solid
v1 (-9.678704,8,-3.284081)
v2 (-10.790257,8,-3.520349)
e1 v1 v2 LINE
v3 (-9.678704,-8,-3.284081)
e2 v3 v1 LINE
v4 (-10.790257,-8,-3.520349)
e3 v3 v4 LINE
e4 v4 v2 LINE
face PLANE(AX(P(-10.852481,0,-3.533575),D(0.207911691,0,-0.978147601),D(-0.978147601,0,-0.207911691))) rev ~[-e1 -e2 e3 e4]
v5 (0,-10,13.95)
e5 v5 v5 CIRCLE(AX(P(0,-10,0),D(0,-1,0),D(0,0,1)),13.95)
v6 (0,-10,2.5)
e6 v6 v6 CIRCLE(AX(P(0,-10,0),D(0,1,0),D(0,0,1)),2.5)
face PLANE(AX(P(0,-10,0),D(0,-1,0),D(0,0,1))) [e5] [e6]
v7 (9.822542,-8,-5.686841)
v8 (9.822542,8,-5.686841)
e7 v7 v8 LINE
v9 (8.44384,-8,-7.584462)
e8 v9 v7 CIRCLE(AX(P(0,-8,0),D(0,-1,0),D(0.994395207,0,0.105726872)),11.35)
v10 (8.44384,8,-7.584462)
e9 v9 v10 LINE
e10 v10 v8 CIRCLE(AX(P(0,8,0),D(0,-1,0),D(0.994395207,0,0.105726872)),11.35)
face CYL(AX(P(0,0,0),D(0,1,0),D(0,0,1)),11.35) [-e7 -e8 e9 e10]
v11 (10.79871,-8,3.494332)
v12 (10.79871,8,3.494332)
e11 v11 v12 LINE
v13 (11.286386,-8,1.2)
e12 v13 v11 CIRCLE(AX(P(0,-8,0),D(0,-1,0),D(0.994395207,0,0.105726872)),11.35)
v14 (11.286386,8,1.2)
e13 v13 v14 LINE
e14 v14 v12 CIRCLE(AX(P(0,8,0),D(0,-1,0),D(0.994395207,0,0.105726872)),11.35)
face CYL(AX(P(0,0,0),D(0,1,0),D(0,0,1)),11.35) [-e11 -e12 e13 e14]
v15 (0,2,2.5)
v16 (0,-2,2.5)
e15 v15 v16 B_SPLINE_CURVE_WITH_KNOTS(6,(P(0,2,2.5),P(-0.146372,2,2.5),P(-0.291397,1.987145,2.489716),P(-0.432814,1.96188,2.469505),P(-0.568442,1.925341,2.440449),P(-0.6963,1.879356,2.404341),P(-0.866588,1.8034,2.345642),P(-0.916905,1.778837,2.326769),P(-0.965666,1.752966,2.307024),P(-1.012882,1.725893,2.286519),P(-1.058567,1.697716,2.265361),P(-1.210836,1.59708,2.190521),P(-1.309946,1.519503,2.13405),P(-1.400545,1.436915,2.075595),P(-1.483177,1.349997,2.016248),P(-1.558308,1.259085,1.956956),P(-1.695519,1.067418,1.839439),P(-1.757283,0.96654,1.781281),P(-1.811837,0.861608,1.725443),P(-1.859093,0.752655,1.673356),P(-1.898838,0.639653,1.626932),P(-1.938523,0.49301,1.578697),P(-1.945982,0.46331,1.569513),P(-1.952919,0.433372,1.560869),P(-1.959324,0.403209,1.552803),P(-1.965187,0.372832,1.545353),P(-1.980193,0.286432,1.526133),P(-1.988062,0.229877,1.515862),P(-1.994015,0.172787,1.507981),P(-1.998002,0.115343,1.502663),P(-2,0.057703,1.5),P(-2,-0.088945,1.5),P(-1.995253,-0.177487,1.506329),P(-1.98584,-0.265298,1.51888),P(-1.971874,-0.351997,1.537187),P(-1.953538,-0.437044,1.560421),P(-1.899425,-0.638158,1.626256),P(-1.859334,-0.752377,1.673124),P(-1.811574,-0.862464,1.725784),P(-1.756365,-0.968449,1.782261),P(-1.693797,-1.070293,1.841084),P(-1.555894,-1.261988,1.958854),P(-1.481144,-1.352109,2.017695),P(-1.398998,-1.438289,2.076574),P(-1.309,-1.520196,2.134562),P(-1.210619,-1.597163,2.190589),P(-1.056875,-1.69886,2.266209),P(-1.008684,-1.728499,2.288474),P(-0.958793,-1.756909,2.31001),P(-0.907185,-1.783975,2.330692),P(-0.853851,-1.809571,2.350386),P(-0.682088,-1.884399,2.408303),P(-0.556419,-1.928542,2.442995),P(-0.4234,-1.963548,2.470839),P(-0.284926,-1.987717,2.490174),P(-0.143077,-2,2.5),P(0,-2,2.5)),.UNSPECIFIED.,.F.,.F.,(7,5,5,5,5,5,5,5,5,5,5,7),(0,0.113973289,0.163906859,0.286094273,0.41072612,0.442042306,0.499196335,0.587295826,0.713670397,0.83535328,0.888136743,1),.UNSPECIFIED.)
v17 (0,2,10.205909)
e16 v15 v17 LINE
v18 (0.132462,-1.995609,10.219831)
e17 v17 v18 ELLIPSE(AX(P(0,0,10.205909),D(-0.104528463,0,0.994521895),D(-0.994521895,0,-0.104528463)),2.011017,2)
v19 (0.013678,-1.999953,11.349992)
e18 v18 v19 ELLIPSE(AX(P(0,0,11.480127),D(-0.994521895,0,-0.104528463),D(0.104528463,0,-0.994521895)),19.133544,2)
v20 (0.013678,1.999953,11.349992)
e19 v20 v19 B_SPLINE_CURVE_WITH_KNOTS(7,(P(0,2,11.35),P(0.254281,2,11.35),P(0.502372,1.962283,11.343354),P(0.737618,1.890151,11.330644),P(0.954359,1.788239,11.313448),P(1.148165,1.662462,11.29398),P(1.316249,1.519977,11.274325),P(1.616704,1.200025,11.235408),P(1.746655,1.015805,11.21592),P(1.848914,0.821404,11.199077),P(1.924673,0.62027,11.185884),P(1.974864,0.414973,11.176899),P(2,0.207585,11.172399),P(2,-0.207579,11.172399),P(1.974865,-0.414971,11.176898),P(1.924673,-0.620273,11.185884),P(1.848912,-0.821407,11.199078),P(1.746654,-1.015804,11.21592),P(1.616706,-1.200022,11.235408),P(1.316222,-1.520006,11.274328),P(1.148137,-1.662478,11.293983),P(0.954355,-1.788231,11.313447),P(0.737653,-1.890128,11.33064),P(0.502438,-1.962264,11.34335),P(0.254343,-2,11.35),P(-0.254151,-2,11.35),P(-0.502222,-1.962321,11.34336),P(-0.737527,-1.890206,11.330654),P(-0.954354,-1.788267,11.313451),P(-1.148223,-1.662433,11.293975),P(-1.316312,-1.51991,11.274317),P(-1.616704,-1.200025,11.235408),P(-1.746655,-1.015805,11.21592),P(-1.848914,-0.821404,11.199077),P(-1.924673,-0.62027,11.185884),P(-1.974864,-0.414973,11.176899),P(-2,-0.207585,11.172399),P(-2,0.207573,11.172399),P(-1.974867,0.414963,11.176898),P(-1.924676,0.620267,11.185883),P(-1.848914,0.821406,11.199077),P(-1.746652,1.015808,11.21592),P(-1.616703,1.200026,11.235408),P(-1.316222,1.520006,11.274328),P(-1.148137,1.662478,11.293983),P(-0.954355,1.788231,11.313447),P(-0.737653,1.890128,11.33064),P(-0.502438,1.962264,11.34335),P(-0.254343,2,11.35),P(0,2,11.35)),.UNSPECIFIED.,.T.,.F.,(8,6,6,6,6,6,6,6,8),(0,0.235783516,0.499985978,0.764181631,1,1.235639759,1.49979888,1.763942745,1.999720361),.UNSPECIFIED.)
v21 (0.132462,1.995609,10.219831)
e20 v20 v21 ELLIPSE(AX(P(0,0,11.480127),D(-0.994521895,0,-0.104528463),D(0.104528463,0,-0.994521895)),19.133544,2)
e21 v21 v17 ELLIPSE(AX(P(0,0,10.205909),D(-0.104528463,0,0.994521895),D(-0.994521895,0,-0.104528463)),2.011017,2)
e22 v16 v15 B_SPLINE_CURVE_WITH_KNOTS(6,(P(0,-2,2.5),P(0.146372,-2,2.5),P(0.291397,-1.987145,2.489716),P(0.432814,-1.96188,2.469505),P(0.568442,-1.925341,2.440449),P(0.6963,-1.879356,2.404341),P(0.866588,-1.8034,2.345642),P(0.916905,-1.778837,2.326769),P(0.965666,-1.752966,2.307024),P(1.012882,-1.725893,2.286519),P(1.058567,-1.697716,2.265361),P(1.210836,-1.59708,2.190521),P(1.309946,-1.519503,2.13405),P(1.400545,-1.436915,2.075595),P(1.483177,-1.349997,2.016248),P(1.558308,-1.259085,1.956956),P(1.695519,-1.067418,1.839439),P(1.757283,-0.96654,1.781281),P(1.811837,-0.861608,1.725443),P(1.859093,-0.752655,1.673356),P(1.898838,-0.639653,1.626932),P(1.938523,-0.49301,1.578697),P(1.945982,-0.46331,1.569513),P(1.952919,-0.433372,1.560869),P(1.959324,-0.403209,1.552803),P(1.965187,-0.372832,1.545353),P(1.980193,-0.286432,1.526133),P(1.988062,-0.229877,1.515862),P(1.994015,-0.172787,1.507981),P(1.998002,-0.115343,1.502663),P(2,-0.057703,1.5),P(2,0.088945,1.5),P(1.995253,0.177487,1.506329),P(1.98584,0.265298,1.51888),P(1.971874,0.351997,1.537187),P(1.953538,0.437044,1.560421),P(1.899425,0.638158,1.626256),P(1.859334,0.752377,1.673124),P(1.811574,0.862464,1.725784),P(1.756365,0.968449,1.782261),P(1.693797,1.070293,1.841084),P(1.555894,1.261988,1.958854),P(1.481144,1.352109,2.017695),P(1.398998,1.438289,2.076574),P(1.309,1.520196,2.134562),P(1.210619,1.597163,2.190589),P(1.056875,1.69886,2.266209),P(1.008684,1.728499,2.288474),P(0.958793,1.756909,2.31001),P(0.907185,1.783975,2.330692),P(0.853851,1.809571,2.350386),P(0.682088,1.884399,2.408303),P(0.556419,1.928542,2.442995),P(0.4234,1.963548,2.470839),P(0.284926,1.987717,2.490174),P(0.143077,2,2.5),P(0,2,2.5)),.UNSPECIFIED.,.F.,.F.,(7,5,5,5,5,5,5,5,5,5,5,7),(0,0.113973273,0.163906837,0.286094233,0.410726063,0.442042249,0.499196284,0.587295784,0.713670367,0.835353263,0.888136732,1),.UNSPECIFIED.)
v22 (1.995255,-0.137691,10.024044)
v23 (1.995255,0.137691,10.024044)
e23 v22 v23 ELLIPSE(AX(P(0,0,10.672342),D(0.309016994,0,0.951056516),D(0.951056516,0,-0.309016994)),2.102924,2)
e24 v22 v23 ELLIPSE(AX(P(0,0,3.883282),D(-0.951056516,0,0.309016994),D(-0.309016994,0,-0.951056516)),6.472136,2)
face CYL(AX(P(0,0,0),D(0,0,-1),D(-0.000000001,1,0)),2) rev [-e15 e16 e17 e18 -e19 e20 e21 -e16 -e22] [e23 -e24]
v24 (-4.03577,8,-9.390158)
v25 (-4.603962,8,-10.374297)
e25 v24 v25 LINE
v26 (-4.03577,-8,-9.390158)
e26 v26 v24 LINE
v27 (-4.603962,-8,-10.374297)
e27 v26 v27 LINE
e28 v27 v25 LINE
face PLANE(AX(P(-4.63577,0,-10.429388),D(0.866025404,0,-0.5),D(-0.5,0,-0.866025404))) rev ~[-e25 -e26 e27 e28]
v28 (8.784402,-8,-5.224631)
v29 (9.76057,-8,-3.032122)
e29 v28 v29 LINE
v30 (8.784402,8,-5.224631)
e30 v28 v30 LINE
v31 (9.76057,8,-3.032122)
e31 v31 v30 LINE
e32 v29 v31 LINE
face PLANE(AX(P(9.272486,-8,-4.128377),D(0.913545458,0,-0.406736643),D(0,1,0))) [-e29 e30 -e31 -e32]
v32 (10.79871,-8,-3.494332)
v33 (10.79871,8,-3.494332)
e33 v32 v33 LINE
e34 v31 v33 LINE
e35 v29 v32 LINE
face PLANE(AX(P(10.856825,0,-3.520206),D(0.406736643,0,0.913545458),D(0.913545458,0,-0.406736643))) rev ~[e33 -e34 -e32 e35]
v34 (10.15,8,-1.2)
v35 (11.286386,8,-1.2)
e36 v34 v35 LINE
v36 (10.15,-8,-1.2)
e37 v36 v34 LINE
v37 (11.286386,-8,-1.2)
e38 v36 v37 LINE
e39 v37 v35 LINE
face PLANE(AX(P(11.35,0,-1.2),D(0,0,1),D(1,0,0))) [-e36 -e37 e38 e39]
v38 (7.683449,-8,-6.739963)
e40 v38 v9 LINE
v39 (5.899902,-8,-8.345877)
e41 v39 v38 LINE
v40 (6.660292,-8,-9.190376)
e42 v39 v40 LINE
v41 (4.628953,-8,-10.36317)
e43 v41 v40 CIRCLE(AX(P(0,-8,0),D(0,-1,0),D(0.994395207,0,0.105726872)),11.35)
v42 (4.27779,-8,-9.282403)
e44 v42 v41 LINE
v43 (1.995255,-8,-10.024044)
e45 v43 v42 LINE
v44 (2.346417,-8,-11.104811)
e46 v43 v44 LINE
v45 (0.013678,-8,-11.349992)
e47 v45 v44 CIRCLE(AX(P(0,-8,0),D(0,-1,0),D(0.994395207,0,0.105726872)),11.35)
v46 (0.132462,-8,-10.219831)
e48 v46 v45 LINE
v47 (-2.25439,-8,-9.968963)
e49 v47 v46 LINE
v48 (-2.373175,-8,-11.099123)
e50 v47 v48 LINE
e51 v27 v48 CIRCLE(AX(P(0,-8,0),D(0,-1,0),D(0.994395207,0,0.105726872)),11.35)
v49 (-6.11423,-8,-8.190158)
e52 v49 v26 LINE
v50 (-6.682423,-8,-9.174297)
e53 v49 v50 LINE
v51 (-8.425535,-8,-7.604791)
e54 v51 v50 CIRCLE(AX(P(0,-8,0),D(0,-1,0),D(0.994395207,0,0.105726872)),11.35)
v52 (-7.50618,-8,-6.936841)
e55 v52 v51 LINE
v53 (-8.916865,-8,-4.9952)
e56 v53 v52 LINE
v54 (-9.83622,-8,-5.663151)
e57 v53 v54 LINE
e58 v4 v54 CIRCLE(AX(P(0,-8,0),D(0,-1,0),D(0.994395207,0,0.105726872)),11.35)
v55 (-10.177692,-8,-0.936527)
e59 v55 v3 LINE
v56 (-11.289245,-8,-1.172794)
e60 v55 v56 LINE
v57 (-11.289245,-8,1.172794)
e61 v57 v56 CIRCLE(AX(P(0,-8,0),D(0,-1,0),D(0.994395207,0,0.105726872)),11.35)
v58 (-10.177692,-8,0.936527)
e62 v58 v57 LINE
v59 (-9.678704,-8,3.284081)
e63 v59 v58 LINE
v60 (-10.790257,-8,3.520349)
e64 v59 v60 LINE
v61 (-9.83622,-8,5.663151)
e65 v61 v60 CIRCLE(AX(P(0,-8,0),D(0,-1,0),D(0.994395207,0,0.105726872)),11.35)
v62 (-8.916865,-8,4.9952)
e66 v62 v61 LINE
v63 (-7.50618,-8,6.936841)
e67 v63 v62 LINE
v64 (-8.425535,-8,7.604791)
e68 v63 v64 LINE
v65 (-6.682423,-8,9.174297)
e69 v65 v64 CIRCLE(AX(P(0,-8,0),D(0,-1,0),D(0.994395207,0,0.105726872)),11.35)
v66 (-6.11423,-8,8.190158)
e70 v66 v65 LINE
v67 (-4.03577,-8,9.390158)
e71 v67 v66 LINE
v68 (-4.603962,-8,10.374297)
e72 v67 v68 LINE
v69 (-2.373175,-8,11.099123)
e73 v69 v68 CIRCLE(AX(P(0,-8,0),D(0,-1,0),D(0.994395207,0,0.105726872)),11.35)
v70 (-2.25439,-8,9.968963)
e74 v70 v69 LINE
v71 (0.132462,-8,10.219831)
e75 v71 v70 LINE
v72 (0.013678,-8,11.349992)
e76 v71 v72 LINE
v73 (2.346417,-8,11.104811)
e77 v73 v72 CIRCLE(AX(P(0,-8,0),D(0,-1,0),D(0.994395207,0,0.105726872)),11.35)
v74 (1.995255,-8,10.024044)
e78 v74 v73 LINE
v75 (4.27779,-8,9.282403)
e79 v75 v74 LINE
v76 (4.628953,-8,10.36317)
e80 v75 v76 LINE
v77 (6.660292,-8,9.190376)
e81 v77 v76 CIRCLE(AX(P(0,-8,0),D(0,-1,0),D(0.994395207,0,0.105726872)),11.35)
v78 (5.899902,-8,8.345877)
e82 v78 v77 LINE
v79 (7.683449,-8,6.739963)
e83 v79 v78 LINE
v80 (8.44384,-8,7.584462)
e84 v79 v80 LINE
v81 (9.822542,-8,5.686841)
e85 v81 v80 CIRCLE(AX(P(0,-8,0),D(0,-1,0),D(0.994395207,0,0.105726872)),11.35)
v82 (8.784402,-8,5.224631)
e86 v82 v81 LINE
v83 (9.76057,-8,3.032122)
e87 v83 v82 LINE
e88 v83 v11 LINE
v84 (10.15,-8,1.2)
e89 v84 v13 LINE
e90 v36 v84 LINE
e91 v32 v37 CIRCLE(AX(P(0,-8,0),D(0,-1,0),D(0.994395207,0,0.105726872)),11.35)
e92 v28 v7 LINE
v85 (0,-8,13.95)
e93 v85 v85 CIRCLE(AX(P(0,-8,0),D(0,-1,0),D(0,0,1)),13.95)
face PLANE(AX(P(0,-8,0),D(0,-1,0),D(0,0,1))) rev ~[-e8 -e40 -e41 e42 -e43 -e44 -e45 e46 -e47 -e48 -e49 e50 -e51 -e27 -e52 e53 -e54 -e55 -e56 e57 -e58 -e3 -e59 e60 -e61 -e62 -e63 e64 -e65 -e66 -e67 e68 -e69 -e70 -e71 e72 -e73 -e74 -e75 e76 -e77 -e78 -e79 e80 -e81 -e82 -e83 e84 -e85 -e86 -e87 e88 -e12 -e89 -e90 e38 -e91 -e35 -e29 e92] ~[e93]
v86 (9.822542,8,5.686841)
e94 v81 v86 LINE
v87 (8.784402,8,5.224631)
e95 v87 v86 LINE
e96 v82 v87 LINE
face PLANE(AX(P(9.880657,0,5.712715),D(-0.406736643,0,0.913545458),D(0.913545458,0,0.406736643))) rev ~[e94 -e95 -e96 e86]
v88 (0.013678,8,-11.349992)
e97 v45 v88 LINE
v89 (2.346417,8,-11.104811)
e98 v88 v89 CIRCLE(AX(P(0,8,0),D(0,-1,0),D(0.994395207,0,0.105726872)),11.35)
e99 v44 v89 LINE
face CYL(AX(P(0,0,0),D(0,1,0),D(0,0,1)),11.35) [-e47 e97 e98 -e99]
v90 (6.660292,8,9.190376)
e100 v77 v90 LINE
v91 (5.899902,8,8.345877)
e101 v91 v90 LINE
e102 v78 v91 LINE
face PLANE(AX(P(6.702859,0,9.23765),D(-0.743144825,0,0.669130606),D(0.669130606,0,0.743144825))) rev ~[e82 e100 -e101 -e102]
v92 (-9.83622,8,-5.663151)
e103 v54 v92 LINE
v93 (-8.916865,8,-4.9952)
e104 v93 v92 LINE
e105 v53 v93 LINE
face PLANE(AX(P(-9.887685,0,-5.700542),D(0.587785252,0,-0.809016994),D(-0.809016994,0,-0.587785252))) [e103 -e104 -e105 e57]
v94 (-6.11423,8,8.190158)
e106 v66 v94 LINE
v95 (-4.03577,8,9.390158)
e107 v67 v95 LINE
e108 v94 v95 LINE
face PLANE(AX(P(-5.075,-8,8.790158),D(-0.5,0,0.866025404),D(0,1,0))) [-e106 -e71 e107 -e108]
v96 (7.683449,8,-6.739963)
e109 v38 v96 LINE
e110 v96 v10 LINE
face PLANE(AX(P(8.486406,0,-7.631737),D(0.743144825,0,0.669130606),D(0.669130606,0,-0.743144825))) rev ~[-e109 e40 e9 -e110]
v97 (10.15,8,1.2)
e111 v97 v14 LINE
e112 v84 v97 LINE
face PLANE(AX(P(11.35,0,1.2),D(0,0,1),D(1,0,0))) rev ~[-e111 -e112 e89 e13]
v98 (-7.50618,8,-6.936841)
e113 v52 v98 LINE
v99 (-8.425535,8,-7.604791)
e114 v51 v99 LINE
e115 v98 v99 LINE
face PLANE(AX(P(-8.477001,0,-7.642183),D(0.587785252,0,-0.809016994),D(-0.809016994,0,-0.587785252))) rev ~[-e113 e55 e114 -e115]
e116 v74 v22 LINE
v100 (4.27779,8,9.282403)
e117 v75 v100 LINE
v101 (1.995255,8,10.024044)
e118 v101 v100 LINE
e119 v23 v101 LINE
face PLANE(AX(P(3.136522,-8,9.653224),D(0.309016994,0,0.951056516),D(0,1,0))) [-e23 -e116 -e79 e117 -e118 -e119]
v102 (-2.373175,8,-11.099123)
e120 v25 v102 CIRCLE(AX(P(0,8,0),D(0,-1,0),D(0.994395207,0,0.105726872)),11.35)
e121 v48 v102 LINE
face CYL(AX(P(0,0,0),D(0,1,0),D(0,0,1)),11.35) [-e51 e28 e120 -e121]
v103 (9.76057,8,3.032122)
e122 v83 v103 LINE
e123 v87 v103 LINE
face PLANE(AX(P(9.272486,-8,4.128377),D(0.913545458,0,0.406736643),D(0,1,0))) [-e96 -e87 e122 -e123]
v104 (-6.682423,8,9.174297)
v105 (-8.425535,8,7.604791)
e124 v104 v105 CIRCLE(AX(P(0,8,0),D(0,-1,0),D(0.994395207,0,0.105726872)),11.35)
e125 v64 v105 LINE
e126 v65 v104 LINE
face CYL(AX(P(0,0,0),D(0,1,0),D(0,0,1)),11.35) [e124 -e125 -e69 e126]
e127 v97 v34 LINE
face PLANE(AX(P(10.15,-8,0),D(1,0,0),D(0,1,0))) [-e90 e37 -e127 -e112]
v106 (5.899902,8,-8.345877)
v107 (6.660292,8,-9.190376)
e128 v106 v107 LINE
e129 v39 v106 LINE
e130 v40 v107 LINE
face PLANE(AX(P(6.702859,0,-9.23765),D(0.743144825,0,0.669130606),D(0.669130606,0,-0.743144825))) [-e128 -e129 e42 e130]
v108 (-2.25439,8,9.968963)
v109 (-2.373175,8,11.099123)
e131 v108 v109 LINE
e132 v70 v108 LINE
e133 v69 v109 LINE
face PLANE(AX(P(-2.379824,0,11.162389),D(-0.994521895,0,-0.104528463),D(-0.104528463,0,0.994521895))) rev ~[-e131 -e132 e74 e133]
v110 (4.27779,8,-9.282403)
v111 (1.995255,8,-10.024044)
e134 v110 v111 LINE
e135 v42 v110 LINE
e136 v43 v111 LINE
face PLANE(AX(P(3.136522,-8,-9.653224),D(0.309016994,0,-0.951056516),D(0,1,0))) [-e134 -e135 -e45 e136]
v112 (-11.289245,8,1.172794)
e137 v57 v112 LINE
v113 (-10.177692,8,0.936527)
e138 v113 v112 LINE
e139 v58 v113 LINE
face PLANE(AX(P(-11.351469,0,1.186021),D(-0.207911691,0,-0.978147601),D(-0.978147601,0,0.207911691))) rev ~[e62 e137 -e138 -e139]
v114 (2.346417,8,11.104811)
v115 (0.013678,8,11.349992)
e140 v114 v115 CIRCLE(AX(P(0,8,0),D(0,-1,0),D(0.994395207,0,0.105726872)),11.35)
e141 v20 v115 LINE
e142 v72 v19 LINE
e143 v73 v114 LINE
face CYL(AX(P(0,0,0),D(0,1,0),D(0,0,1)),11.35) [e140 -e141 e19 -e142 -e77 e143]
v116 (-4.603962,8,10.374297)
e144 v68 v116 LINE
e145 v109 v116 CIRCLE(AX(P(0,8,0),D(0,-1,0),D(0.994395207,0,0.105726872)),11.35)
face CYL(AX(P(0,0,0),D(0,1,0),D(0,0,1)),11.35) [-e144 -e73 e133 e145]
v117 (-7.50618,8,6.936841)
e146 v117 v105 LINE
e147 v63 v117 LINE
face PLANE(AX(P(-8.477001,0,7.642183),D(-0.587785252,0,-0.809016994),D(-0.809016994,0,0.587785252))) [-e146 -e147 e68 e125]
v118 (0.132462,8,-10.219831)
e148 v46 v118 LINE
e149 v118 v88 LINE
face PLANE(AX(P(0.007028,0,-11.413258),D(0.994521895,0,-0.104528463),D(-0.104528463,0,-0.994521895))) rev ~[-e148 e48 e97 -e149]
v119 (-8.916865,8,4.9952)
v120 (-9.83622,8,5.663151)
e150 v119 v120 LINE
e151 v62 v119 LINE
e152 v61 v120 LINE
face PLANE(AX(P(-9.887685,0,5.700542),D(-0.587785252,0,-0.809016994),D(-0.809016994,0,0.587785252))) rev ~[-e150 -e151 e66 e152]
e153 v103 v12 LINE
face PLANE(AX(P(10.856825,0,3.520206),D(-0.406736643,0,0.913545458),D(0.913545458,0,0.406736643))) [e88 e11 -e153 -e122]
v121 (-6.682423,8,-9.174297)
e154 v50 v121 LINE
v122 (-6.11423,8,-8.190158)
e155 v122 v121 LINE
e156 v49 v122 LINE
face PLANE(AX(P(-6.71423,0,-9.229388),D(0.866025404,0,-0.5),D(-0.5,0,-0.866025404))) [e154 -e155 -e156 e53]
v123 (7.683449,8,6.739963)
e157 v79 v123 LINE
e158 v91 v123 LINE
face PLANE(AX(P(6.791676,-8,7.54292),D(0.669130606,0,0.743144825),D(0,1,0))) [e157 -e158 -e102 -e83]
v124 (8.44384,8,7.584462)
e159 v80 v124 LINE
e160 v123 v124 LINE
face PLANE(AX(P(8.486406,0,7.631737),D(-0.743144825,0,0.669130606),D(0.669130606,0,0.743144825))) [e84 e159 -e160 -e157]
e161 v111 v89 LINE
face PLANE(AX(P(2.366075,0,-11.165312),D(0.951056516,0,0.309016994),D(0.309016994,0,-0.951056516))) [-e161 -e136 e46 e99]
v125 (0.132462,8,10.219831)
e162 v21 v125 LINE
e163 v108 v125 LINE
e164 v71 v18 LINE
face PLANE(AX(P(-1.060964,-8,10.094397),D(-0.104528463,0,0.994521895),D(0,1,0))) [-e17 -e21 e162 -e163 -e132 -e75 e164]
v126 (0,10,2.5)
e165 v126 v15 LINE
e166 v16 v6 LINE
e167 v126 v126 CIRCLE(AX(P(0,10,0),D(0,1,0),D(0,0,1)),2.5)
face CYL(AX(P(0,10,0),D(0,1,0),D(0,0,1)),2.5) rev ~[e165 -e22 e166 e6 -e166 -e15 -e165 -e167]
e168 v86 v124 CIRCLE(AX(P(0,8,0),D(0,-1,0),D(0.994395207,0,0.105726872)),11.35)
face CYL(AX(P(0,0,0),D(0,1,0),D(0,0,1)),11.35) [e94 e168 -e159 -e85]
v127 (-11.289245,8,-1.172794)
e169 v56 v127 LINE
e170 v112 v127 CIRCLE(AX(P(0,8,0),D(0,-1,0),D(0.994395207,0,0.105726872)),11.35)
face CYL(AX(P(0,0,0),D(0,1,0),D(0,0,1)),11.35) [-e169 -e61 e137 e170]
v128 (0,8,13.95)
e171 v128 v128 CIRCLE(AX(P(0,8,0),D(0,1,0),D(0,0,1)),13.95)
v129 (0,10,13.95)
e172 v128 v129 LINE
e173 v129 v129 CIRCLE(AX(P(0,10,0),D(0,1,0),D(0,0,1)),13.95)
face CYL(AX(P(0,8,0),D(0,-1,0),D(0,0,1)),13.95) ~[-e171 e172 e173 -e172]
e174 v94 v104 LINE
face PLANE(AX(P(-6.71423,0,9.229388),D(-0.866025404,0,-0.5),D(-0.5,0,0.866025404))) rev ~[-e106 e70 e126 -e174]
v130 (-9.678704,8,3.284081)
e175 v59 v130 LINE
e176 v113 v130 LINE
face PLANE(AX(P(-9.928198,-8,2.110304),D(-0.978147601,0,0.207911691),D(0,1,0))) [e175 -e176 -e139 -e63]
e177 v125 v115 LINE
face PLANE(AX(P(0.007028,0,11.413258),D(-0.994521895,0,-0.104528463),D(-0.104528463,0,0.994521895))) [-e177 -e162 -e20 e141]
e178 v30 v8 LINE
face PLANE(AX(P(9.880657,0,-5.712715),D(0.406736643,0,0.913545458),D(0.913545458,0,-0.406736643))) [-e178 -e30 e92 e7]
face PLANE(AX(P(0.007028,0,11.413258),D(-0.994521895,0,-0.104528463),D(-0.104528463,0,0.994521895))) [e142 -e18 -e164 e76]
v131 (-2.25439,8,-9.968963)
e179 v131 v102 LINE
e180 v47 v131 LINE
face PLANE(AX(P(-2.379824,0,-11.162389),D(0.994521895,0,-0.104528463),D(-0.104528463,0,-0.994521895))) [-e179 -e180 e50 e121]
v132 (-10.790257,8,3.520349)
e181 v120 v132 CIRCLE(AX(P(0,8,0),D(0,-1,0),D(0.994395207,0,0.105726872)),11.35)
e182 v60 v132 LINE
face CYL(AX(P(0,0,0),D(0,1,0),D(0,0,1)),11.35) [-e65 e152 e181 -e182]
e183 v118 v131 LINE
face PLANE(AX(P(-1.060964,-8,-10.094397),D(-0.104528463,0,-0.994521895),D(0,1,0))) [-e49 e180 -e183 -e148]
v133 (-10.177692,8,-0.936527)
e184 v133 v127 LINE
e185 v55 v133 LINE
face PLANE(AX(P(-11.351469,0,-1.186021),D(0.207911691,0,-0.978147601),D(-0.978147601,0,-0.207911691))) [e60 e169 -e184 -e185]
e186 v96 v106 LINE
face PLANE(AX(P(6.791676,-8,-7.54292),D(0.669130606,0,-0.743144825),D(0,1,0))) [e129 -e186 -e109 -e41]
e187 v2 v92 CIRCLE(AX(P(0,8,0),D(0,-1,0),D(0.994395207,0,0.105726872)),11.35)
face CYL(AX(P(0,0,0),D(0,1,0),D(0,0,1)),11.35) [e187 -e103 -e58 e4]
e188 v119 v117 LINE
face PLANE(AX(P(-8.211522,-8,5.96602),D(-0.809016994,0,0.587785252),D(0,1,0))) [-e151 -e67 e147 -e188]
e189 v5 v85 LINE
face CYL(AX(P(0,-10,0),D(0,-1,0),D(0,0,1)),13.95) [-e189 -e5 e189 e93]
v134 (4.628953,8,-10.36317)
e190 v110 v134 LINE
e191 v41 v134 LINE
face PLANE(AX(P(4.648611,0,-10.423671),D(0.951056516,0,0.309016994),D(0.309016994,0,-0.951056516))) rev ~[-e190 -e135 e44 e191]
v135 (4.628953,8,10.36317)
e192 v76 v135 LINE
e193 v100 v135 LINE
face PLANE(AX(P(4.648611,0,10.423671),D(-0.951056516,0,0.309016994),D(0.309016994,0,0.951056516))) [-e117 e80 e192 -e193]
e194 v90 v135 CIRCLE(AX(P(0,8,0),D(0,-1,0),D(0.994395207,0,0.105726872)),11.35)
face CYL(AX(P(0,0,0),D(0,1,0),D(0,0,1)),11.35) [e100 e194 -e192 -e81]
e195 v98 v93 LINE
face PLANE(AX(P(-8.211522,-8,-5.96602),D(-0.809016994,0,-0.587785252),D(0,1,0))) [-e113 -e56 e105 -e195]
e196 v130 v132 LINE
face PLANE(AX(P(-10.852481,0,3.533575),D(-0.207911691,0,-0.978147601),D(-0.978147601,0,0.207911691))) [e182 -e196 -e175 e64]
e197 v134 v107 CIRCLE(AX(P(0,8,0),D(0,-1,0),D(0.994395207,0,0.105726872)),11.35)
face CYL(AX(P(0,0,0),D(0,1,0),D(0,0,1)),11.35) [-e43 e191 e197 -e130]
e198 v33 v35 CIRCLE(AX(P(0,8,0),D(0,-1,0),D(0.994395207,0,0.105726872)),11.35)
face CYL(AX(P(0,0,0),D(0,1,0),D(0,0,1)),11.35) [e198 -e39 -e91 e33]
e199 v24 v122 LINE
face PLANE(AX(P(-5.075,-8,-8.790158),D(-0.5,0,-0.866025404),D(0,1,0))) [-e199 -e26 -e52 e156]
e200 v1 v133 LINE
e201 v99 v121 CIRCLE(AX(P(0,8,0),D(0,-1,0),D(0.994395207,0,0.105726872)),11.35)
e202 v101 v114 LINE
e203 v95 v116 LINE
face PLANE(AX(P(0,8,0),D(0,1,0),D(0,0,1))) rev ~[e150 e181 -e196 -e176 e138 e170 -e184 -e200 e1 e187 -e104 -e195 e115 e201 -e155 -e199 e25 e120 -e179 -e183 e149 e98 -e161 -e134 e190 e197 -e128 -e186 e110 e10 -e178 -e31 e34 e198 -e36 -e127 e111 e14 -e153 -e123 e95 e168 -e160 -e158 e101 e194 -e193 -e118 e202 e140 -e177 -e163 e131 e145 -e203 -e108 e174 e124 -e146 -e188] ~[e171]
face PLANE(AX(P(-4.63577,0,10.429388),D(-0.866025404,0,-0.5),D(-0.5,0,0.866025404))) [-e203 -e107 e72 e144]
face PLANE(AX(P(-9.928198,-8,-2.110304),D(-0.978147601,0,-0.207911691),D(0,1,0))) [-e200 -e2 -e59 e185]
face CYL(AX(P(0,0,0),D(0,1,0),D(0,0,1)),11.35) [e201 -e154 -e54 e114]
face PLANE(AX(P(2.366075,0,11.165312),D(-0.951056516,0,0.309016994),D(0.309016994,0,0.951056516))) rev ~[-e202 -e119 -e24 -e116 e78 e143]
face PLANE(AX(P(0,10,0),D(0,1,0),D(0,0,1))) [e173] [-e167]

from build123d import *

# Parameters (mm, degrees)
SKETCH_1_R               = 11.35
EXTRUDE_1_DEPTH          = 8
SKETCH_2_R               = 13.95
EXTRUDE_2_DEPTH          = 2
EXTRUDE_START            = 2
SKETCH_3_R               = 13.95
EXTRUDE_3_DEPTH          = 2
SKETCH_4_R               = 2.5
CUT_EXTRUDE_1_DEPTH      = 29.09279267
SKETCH_5_R               = 2
CUT_EXTRUDE_2_DEPTH      = 23.117979112
SKETCH_6_W               = 2.4
SKETCH_6_H               = 16
CUT_EXTRUDE_3_DEPTH      = 1.2
PATTERN_CIRCULAR_1_COUNT = 15


with BuildPart() as part:
    # 草图1 → 凸台-拉伸1 (new, symmetric)
    with BuildSketch(Plane(origin=(0, 0, 0), x_dir=(1, 0, 0), z_dir=(0, 1, 0))):
        with Locations(Location((0, 0, 0), (0, 0, 270))):
            Circle(SKETCH_1_R)
    extrude(amount=EXTRUDE_1_DEPTH, both=True)

    # 草图2 → 凸台-拉伸2 (add)
    with BuildSketch(Plane(origin=(0, 8, 0), x_dir=(1, 0, 0), z_dir=(0, 1, 0))):
        with Locations(Location((0, 0, 0), (0, 0, 270))):
            Circle(SKETCH_2_R)
    extrude(amount=EXTRUDE_2_DEPTH)

    # 草图3 → 凸台-拉伸3 (add)
    with BuildSketch(Plane.XZ.offset(8).offset(EXTRUDE_START)):
        with Locations(Location((0, 0, 0), (0, 0, 90))):
            Circle(SKETCH_3_R)
    extrude(amount=-EXTRUDE_3_DEPTH)

    # 草图4 → 切除-拉伸1 (cut, through all)
    with BuildSketch(Plane(origin=(0, 10, 0), x_dir=(1, 0, 0), z_dir=(0, 1, 0))):
        with Locations(Location((0, 0, 0), (0, 0, 270))):
            Circle(SKETCH_4_R)
    extrude(amount=-CUT_EXTRUDE_1_DEPTH, mode=Mode.SUBTRACT)

    # 草图5 → 切除-拉伸2 (cut, through all)
    with BuildSketch(Plane.XY):
        with Locations(Location((0, 0, 0), (0, 0, 90.000000031))):
            Circle(SKETCH_5_R)
    extrude(amount=CUT_EXTRUDE_2_DEPTH, mode=Mode.SUBTRACT)

    # 草图6 → 切除-拉伸3 (cut, symmetric)
    with BuildSketch(Plane.XY):
        with Locations((11.35, 0)):
            Rectangle(SKETCH_6_W, SKETCH_6_H)
    cut_extrude_3 = extrude(amount=CUT_EXTRUDE_3_DEPTH, both=True, mode=Mode.SUBTRACT)

    # 阵列(圆周)1: 切除-拉伸3 ×15 about axis
    pattern_circular_1_axis = Axis((0, 0, 0), (0, 1, 0))
    for i in range(1, PATTERN_CIRCULAR_1_COUNT):
        add(cut_extrude_3.rotate(pattern_circular_1_axis, i * 360 / PATTERN_CIRCULAR_1_COUNT), mode=Mode.SUBTRACT)


solid = part.part
